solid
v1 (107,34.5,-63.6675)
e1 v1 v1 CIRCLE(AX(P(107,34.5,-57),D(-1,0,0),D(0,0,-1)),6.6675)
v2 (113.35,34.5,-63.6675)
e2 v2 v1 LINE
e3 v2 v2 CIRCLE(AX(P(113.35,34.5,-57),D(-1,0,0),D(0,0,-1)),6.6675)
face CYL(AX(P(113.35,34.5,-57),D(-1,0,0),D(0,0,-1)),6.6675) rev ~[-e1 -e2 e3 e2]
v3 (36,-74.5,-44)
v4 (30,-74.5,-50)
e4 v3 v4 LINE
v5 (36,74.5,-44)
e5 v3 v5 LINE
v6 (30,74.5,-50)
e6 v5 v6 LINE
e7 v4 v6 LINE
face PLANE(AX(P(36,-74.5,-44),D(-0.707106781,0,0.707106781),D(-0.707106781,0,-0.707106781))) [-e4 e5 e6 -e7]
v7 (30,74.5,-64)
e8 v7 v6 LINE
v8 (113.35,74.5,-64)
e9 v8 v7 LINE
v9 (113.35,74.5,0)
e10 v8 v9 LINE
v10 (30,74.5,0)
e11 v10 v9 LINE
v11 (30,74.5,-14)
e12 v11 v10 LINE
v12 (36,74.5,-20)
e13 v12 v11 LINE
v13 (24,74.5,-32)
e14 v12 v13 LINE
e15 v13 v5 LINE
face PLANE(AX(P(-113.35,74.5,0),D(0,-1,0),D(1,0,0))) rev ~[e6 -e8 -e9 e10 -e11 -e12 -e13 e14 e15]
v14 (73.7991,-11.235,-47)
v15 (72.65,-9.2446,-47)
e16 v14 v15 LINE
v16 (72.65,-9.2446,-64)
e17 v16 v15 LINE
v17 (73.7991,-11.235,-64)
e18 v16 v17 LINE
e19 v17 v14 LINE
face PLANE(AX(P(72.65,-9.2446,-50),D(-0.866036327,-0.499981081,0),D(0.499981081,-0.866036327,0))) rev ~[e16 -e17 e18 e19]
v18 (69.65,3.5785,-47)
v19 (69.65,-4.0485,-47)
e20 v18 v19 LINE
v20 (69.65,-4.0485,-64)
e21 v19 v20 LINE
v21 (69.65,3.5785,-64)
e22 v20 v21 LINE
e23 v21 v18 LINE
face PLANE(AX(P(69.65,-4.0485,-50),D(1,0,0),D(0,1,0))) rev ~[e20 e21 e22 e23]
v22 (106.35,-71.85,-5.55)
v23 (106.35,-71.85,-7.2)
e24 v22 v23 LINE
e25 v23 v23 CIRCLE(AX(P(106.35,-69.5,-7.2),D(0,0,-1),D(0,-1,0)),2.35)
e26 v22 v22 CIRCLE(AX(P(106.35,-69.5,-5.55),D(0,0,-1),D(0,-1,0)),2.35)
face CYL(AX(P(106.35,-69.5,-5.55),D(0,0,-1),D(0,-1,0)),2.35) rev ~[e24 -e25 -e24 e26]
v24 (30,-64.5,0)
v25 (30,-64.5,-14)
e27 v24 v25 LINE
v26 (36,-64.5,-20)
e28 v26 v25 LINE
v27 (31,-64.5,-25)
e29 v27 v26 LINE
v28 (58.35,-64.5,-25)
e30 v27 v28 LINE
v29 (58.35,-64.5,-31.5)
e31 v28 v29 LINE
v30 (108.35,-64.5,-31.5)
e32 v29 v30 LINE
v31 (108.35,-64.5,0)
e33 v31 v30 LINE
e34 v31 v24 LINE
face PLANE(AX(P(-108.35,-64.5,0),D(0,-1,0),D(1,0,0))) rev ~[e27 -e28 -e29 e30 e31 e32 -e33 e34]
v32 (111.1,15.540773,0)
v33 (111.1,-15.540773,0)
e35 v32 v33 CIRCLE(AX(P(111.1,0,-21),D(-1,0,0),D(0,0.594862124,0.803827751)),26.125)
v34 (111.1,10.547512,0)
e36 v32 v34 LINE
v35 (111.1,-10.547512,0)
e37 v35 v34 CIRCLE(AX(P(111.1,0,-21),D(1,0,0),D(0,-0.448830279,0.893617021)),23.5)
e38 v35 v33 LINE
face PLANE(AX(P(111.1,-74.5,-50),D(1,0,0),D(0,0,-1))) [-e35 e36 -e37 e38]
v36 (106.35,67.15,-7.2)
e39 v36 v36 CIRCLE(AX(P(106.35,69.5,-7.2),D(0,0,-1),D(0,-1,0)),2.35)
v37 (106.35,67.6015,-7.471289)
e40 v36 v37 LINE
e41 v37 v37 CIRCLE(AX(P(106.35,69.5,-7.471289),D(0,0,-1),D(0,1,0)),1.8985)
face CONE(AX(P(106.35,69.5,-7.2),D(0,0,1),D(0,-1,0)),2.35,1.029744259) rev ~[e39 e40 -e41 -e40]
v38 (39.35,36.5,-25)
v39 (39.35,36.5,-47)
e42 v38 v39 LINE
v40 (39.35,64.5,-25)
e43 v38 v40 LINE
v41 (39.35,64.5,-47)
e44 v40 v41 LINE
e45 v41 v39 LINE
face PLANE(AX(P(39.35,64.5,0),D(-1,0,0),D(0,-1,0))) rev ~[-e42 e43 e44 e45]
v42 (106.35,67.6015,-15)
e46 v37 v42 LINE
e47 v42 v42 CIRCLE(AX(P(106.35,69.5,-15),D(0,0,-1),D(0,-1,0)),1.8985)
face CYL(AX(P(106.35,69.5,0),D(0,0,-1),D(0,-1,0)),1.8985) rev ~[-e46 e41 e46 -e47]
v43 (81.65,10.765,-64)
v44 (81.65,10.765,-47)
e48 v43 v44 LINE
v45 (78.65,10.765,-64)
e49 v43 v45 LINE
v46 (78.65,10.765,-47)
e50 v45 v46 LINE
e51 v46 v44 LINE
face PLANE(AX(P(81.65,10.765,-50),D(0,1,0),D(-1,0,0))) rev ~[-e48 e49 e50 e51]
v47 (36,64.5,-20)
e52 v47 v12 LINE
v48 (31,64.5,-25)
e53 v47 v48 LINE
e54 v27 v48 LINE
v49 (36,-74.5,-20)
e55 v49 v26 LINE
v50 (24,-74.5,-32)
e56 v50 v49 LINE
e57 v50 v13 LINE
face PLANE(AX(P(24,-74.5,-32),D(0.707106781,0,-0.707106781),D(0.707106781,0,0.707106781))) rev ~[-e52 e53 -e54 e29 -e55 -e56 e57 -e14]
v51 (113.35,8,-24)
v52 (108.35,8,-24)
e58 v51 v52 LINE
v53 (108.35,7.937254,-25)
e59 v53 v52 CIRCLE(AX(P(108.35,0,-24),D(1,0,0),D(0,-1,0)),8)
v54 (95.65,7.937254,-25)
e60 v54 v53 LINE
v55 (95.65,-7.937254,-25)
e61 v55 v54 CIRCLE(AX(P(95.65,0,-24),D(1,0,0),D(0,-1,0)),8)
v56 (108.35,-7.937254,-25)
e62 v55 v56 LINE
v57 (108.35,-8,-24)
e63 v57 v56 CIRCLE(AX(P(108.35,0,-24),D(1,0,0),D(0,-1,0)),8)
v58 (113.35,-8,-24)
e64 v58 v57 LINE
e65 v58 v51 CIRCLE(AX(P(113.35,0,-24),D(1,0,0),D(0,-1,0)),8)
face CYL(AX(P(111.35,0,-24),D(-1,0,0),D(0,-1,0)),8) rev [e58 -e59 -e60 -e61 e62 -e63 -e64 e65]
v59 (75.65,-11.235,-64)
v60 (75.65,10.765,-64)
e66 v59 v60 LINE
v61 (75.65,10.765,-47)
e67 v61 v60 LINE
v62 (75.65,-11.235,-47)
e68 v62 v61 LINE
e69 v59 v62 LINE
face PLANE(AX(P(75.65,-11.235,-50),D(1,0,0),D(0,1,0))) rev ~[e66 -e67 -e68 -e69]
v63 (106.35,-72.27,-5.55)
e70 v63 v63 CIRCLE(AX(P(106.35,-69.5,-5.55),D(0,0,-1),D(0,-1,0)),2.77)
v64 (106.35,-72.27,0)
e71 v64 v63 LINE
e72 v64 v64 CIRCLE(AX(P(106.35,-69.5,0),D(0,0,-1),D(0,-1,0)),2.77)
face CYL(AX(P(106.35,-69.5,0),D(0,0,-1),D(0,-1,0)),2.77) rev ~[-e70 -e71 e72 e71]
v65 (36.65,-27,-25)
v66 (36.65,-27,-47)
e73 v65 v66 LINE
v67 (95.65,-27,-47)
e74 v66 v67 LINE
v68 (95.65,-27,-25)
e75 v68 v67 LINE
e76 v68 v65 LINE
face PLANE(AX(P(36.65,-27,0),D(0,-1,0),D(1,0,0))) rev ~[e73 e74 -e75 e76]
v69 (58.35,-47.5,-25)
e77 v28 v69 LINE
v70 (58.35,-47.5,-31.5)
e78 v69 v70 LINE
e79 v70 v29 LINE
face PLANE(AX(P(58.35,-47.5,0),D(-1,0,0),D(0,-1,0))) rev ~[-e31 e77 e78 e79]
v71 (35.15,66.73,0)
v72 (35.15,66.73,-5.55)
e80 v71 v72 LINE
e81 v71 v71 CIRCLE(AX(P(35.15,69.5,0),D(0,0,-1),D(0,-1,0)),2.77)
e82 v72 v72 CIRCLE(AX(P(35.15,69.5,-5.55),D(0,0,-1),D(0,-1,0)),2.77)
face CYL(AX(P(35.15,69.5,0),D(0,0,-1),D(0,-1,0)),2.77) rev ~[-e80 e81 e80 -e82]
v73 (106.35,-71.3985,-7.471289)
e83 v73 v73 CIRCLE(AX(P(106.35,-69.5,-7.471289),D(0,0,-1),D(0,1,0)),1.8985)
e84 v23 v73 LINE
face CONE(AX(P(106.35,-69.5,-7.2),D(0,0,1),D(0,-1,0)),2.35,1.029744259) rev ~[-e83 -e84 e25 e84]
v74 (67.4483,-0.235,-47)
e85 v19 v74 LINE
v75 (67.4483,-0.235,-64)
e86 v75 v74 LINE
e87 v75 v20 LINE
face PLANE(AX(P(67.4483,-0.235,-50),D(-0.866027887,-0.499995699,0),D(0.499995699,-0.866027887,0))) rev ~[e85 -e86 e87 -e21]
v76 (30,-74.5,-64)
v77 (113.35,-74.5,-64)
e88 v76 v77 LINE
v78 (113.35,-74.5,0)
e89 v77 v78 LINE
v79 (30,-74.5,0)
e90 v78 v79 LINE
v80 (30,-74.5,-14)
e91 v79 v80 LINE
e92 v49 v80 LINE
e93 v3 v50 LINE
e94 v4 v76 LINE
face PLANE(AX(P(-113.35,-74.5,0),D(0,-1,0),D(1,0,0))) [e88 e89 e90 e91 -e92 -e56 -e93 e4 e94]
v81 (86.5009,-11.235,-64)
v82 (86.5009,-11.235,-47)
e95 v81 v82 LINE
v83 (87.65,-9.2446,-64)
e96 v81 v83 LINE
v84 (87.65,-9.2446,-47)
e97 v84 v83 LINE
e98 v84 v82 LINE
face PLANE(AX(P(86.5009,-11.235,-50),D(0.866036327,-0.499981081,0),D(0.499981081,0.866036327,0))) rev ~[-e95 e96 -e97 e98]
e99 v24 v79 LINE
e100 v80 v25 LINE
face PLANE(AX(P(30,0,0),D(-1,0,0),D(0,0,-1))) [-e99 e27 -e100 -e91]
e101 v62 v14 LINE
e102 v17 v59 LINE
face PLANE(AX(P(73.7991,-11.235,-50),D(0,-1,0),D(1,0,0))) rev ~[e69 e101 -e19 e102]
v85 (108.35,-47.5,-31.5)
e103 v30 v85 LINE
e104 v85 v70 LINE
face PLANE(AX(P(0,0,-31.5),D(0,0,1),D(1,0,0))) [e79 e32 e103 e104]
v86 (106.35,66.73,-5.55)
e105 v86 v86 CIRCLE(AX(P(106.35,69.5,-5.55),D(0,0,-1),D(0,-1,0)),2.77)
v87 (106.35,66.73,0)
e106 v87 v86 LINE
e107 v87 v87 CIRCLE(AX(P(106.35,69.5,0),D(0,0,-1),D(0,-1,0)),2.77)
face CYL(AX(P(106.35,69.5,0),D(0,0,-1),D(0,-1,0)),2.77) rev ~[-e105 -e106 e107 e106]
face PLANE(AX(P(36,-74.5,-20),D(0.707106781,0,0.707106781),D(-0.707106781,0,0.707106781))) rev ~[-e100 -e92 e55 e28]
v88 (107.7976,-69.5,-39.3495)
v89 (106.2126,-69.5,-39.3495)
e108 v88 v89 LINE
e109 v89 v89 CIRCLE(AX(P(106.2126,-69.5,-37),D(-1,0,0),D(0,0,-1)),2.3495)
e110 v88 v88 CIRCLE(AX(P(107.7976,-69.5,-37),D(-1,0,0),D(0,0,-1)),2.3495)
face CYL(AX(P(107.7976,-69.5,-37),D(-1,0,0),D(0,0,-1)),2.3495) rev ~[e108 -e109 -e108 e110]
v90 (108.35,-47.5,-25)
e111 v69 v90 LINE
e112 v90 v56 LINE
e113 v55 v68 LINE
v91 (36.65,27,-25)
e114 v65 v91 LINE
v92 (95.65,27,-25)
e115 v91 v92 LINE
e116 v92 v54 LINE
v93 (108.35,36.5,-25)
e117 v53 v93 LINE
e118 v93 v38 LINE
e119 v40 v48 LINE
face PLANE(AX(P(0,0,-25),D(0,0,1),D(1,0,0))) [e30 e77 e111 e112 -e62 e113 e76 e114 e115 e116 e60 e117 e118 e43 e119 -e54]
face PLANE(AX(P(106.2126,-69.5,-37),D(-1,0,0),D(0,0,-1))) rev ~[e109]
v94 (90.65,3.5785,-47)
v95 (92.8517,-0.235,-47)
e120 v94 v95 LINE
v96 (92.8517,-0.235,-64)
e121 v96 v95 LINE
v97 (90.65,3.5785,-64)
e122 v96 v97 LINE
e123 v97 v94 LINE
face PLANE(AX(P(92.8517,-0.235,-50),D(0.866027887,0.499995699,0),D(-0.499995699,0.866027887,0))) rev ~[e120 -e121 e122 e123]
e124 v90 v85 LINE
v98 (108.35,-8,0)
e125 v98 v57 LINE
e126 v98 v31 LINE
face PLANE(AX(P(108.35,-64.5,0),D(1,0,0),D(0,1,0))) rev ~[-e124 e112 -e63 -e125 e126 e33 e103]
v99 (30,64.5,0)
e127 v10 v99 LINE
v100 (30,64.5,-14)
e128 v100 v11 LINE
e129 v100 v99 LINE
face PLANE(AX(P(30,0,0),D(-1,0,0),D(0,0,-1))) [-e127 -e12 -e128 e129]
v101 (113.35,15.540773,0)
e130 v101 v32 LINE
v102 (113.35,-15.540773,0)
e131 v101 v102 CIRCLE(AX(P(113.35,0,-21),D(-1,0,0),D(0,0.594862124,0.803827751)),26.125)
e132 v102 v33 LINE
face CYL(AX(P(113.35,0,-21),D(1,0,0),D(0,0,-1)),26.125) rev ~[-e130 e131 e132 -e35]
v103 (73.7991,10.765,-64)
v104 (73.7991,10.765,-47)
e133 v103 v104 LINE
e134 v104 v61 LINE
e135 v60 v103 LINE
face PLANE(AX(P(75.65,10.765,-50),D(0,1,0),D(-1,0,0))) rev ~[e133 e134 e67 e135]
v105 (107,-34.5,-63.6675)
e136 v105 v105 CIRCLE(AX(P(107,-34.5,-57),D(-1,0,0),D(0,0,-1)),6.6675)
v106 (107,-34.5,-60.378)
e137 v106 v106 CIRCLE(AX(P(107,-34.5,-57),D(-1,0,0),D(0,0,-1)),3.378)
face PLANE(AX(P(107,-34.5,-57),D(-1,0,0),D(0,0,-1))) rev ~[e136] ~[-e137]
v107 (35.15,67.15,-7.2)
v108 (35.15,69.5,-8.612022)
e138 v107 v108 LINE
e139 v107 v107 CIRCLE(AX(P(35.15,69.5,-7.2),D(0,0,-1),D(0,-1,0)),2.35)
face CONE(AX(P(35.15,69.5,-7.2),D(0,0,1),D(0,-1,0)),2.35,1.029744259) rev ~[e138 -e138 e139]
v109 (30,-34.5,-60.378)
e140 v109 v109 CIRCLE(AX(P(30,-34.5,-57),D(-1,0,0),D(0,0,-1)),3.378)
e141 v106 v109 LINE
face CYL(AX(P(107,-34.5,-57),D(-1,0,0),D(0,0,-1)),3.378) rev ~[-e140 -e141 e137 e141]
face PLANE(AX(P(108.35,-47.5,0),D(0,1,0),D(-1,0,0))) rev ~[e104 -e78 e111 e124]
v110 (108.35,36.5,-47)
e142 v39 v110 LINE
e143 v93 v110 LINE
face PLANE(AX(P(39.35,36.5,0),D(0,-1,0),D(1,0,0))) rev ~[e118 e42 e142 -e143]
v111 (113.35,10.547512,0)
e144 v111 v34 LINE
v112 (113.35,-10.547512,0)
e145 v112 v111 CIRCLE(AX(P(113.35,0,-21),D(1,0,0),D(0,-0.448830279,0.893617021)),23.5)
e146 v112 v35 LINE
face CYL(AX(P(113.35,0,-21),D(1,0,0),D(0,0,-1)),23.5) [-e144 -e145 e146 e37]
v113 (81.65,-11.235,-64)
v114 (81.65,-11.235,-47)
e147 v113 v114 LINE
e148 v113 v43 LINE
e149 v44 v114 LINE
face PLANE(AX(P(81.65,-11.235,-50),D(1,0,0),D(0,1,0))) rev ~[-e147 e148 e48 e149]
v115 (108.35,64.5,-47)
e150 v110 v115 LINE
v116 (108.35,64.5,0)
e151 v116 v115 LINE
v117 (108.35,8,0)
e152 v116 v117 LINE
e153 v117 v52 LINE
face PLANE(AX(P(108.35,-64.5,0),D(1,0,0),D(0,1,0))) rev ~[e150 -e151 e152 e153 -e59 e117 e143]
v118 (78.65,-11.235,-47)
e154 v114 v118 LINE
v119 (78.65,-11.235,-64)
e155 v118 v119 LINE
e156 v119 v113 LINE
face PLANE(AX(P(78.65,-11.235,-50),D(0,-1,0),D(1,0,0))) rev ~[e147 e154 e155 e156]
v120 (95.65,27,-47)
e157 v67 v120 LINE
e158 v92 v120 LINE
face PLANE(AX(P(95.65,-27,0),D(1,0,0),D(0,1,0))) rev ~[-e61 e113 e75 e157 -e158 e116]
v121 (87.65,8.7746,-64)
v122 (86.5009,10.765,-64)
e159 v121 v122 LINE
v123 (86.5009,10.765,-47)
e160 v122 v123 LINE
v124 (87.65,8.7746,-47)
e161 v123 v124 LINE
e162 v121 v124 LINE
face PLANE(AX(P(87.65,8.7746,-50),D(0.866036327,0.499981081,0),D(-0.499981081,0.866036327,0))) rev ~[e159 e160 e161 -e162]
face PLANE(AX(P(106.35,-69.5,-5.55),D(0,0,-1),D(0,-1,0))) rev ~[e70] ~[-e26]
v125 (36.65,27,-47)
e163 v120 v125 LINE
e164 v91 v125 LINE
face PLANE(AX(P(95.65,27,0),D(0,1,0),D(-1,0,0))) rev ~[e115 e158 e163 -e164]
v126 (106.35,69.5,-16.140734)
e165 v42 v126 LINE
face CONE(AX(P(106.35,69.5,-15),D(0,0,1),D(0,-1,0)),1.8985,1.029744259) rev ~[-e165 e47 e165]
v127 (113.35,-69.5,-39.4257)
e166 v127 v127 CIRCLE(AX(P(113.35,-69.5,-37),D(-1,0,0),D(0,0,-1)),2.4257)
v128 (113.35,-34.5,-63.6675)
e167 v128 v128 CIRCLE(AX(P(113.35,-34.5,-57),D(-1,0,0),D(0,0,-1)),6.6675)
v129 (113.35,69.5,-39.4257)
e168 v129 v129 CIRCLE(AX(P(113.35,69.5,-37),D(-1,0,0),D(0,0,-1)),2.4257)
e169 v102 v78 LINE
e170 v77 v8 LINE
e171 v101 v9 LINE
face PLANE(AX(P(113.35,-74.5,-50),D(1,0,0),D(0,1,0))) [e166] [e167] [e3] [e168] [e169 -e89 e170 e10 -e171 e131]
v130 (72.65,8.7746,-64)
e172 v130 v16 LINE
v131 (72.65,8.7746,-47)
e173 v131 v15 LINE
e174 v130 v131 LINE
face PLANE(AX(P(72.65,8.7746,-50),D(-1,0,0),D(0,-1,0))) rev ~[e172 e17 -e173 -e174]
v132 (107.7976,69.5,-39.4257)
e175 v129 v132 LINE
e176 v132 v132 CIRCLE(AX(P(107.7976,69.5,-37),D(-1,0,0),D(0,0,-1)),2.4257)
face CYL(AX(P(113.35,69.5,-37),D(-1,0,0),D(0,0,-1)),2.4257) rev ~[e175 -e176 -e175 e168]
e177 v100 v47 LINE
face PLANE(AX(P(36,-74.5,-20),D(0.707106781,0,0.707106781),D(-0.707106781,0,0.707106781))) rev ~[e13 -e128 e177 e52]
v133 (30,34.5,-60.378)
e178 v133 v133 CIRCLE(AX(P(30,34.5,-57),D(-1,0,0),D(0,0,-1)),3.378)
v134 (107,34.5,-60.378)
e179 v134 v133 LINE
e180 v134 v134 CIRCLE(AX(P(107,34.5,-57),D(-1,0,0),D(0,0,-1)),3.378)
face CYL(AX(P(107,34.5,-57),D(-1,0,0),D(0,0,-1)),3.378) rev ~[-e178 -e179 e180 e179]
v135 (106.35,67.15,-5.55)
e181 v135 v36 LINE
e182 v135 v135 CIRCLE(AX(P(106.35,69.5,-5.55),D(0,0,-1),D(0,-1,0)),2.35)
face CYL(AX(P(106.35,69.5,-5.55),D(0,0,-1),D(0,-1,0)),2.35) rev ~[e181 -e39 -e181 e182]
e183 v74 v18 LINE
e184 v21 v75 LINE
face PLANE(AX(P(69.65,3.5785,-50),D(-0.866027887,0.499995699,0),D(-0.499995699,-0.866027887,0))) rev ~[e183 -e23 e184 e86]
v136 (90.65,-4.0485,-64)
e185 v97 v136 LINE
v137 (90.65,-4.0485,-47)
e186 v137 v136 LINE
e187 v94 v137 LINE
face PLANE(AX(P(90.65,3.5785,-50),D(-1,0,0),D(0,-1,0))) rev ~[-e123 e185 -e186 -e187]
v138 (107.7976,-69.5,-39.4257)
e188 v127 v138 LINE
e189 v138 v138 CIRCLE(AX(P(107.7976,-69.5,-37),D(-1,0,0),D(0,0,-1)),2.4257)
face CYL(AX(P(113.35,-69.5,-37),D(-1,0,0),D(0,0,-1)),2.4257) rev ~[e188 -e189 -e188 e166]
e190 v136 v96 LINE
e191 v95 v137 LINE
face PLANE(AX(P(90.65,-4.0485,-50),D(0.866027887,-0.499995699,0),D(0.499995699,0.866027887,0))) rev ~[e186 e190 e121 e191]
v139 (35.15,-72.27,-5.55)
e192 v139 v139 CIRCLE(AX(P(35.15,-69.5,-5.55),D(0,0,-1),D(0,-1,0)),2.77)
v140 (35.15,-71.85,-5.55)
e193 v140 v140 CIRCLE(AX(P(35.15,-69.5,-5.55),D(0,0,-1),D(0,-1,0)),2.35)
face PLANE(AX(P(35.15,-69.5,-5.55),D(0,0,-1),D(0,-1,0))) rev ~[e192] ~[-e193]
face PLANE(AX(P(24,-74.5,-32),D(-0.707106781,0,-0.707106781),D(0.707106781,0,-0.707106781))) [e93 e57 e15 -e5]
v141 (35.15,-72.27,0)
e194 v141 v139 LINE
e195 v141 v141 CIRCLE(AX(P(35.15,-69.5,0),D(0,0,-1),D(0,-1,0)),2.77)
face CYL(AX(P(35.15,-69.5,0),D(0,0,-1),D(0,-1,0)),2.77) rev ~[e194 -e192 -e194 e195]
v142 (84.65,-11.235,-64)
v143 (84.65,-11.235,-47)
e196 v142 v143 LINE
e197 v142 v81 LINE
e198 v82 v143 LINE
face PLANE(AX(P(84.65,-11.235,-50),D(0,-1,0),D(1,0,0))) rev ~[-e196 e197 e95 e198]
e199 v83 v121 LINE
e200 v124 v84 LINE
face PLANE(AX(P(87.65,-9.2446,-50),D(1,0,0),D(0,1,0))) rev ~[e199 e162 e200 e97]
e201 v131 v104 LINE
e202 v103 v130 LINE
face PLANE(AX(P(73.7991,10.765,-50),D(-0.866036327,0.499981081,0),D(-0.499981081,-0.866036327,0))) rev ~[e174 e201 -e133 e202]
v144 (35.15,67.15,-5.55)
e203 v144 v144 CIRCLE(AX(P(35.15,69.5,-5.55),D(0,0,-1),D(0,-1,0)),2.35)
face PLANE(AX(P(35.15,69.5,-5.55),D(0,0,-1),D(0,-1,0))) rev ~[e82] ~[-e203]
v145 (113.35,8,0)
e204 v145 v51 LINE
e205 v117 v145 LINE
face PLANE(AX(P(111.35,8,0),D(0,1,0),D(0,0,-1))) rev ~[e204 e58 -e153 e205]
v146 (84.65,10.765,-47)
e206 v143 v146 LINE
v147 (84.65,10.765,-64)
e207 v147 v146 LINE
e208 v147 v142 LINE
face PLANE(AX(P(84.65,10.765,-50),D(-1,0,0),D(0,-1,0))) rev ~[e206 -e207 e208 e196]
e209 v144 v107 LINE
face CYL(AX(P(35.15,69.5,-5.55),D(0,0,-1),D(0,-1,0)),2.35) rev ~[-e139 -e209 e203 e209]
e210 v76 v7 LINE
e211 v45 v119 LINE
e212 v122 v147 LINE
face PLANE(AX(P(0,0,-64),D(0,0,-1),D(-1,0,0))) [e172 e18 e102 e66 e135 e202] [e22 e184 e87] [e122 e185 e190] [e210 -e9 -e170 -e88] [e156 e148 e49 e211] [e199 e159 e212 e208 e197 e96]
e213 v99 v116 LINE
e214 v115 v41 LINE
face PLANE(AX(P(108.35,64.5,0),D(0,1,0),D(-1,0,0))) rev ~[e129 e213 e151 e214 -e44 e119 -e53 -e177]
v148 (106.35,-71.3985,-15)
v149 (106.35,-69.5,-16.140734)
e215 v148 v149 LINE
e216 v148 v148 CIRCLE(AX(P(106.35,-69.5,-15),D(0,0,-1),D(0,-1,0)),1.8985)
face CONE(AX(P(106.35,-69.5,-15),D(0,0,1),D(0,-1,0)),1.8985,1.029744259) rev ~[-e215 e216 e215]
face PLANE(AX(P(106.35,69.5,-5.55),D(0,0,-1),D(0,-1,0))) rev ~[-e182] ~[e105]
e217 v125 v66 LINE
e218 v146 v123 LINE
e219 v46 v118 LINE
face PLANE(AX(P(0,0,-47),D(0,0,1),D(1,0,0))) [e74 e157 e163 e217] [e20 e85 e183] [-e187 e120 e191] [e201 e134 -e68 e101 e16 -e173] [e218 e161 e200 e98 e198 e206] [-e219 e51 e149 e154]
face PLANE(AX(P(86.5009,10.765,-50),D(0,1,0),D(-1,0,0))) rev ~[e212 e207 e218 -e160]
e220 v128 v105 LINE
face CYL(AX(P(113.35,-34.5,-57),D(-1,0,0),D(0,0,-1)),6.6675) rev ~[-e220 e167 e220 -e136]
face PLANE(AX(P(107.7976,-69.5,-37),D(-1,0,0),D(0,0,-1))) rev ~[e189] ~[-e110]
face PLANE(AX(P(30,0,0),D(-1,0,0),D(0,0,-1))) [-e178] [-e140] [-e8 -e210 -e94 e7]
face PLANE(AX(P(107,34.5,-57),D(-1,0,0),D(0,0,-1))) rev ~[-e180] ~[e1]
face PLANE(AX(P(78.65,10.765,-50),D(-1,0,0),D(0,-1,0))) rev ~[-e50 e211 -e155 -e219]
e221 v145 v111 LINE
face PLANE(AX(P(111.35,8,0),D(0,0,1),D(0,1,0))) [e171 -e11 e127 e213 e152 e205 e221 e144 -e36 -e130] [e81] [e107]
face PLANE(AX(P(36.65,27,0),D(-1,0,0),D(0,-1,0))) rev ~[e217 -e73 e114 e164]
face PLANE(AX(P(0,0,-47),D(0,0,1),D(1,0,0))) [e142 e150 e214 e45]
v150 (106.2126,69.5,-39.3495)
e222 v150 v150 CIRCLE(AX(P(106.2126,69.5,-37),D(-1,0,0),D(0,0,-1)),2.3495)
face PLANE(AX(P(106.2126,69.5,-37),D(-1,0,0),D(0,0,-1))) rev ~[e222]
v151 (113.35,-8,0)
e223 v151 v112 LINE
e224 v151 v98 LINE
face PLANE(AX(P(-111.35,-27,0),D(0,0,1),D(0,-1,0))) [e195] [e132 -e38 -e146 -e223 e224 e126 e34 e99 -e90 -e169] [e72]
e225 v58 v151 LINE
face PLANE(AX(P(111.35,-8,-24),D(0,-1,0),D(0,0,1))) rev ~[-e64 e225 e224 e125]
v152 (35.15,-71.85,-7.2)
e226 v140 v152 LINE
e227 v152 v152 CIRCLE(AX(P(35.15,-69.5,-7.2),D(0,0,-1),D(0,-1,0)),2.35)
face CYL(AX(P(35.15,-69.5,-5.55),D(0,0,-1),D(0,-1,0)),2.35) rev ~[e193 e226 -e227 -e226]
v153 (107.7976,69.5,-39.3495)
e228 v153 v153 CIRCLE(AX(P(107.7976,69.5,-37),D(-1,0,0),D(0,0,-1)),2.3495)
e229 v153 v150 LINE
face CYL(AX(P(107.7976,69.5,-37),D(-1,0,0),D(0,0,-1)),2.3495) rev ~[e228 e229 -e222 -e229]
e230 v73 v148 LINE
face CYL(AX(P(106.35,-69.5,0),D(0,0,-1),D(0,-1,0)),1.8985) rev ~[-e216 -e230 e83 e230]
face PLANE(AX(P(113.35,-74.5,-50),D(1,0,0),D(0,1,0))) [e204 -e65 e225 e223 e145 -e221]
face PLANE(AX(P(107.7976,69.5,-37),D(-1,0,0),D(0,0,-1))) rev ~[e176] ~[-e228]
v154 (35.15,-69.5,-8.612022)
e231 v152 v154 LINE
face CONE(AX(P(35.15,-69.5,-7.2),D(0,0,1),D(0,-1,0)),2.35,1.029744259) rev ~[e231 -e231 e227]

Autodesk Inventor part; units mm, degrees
ref_plane "XZ Plane" through (0, 0, 0) normal (0, 1, 0) x (-1, 0, 0)
sketch "Sketch1" plane through (0, 0, 0) normal (0, 0, 1) x (1, 0, 0)
  line L0 (-111.35, -74.5) -> (111.35, -74.5)
  line L1 (111.35, -74.5) -> (111.35, 74.5)
  line L2 (111.35, 74.5) -> (-111.35, 74.5)
  line L3 (-111.35, 74.5) -> (-111.35, -74.5)
  line L4 (-111.35, -74.5) -> (111.35, 74.5) construction
  line L5 (111.35, -74.5) -> (-111.35, 74.5) construction
  point P0 (0, 0)
  dimension "d0" = 222.7
  dimension "d1" = 149
extrude "MainInnerBodyExtrusion" add sketch "Sketch1" against normal blind 50
sketch "Sketch3" plane through (0, 0, 0) normal (0, 0, 1) x (1, 0, 0)
  line L0 (36.65, -27) -> (95.65, -27)
  line L1 (95.65, -27) -> (95.65, 27)
  line L2 (95.65, 27) -> (36.65, 27)
  line L3 (36.65, 27) -> (36.65, -27)
  line L4 (36.65, -27) -> (95.65, 27) construction
  line L5 (95.65, -27) -> (36.65, 27) construction
  line L6 (111.35, -74.5) -> (111.35, 74.5) projected
  line L7 (0, 0) -> (111.35, 0) construction
  line L8 (-111.35, -74.5) -> (-111.35, 74.5) construction
  line L9 (-111.35, 74.5) -> (-111.35, -74.5) projected
  point P0 (66.15, 0)
  point P1 (66.15, 0)
  dimension "d5" = 15.7
  dimension "d6" = 54
  dimension "d7" = 59
extrude "HoleForCamerabase" cut sketch "Sketch3" against normal blind 47
sketch "Sketch4" plane through (0, 0, 0) normal (0, 0, 1) x (1, 0, 0)
  line L0 (0, 0) -> (-111.35, 0) construction
  line L1 (-111.35, -74.5) -> (-111.35, 74.5) construction
  line L2 (-108.35, -31) -> (-92.35, -31)
  line L3 (-92.35, -31) -> (-92.35, 31)
  line L4 (-92.35, 31) -> (-108.35, 31)
  line L5 (-108.35, 31) -> (-108.35, -31)
  line L6 (-108.35, -31) -> (-92.35, 31) construction
  line L7 (-92.35, -31) -> (-108.35, 31) construction
  point P0 (-100.35, 0)
  dimension "d13" = 16
  dimension "d14" = 62
  dimension "d15" = 3
extrude "HoleForFan" cut sketch "Sketch4" against normal blind 47
sketch "Sketch6" plane through (0, 0, 0) normal (0, 0, 1) x (1, 0, 0)
  line L0 (-111.35, -74.5) -> (-111.35, 74.5) construction
  line L1 (-111.35, 0) -> (111.35, 0) construction
  line L2 (111.35, 74.5) -> (111.35, -74.5) construction
  line L3 (-11.35, -64.5) -> (20.65, -64.5)
  line L4 (20.65, -64.5) -> (20.65, 64.5)
  line L5 (20.65, 64.5) -> (-11.35, 64.5)
  line L6 (-11.35, 64.5) -> (-11.35, -64.5)
  line L7 (-11.35, -64.5) -> (20.65, 64.5) construction
  line L8 (20.65, -64.5) -> (-11.35, 64.5) construction
  line L9 (36.65, -27) -> (36.65, 27) projected
  point P0 (0, 0)
  point P1 (4.65, 0)
  dimension "d20" = 32
  dimension "d21" = 129
  dimension "d88" = 16
extrude "HoleForPi" cut sketch "Sketch6" against normal blind 47
sketch "Sketch7" plane through (0, 0, 0) normal (0, 0, 1) x (1, 0, 0)
  line L0 (0, 0) -> (-111.35, 0) construction
  line L1 (-111.35, 74.5) -> (-111.35, -74.5) construction
  line L2 (-76.35, -59) -> (-27.35, -59)
  line L3 (-27.35, -59) -> (-27.35, 59)
  line L4 (-27.35, 59) -> (-76.35, 59)
  line L5 (-76.35, 59) -> (-76.35, -59)
  line L6 (-76.35, -59) -> (-27.35, 59) construction
  line L7 (-27.35, -59) -> (-76.35, 59) construction
  line L8 (-11.35, -64.5) -> (-11.35, 64.5) projected
  line L9 (-92.35, 31) -> (-92.35, -31) construction
  point P0 (-51.85, 0)
  dimension "d25" = 16
  dimension "d26" = 49
  dimension "d27" = 118
extrude "HoleForPoeAdapter" cut sketch "Sketch7" against normal blind 47
sketch "Sketch10" plane through (0, 0, 0) normal (0, 0, 1) x (1, 0, 0)
  line L0 (39.35, 36.5) -> (108.35, 36.5)
  line L1 (108.35, 36.5) -> (108.35, 64.5)
  line L2 (108.35, 64.5) -> (39.35, 64.5)
  line L3 (39.35, 64.5) -> (39.35, 36.5)
  line L4 (39.35, 36.5) -> (108.35, 64.5) construction
  line L5 (108.35, 36.5) -> (39.35, 64.5) construction
  line L6 (111.35, 74.5) -> (-111.35, 74.5) projected
  line L7 (111.35, -74.5) -> (111.35, 74.5) projected
  point P0 (0, 0)
  point P1 (73.85, 50.5)
  point P2 (94.85, 8.5)
  point P3 (108.35, 50.5)
  dimension "d36" = 69
  dimension "d37" = 28
  dimension "d85" = 3
extrude "HoleForThermister" cut sketch "Sketch10" against normal blind 47
sketch "Sketch11" plane through (0, 0, 0) normal (0, 0, 1) x (1, 0, 0)
  line L0 (58.35, -64.5) -> (108.35, -64.5)
  line L1 (108.35, -64.5) -> (108.35, -47.5)
  line L2 (108.35, -47.5) -> (58.35, -47.5)
  line L3 (58.35, -47.5) -> (58.35, -64.5)
  line L4 (58.35, -64.5) -> (108.35, -47.5) construction
  line L5 (108.35, -64.5) -> (58.35, -47.5) construction
  line L6 (111.35, -74.5) -> (111.35, 74.5) projected
  line L7 (-111.35, -74.5) -> (111.35, -74.5) projected
  line L8 (95.65, -27) -> (36.65, -27) projected
  line L9 (20.65, 64.5) -> (20.65, -64.5) projected
  point P0 (0, 0)
  point P1 (83.35, -56)
  point P2 (94.85, -8.5)
  point P3 (83.35, -47.5)
  point P4 (58.35, -56)
  point P5 (111.35, 74.5)
  dimension "d42" = 50
  dimension "d43" = 17
  dimension "d86" = 3
  dimension "d87" = 10
extrude "HoleForSensor" cut sketch "Sketch11" against normal blind 31.5
sketch "Sketch15" plane through (-111.35, -74.5, 0) normal (-1, 0, 0) x (0, 0, 1)
  line L0 (0, 149) -> (0, 0) projected
  line L1 (0, 149) -> (-50, 149) projected
  line L2 (-50, 0) -> (-50, 149) projected
  line L3 (0, 0) -> (-50, 0) projected
  line L4 (0, 0) -> (0, 149) projected
  line L5 (0, 101.5) -> (0, 47.5) projected
  line L6 (0, 74.5) -> (-30, 74.5) construction
  line L7 (0, 76.5) -> (-29.9333, 76.5)
  line L8 (0, 84.5) -> (-28.2843, 84.5)
  line L9 (0, 80.5) -> (-29.3939, 80.5)
  line L10 (0, 76.5) -> (0, 74.5)
  line L11 (0, 88.5) -> (-26.533, 88.5)
  line L12 (0, 92.5) -> (-24, 92.5)
  line L13 (-20.5913, 97.5) -> (0, 97.5)
  line L14 (-14.9666, 101.5) -> (0, 101.5)
  line L15 (0, 84.5) -> (0, 80.5)
  line L16 (0, 101.5) -> (0, 97.5)
  line L17 (0, 92.5) -> (0, 88.5)
  line L18 (0, 72.5) -> (-29.9333, 72.5)
  line L19 (0, 64.5) -> (-28.2843, 64.5)
  line L20 (0, 68.5) -> (-29.3939, 68.5)
  line L21 (0, 72.5) -> (0, 74.5)
  line L22 (0, 60.5) -> (-26.533, 60.5)
  line L23 (0, 56.5) -> (-24, 56.5)
  line L24 (-20.5913, 51.5) -> (0, 51.5)
  line L25 (-14.9666, 47.5) -> (0, 47.5)
  line L26 (0, 64.5) -> (0, 68.5)
  line L27 (0, 56.5) -> (0, 60.5)
  line L28 (0, 47.5) -> (0, 51.5)
  line L29 (0, 72.5) -> (0, 76.5)
  line L30 (0, 80.5) -> (0, 84.5)
  line L31 (0, 88.5) -> (0, 92.5)
  line L32 (0, 97.5) -> (0, 149)
  arc A0 (-28.2843, 84.5) -> (-29.3939, 80.5) centre (0, 74.5) ccw
  arc A1 (-14.9666, 101.5) -> (-20.5913, 97.5) centre (0, 74.5) ccw
  arc A2 (-24, 92.5) -> (-26.533, 88.5) centre (0, 74.5) ccw
  arc A3 (-29.9333, 76.5) -> (-29.9333, 72.5) centre (0, 74.5) ccw
  arc A4 (-29.3939, 68.5) -> (-28.2843, 64.5) centre (0, 74.5) ccw
  arc A5 (-26.533, 60.5) -> (-24, 56.5) centre (0, 74.5) ccw
  arc A6 (-20.5913, 51.5) -> (-14.9666, 47.5) centre (0, 74.5) ccw
  point P0 (0, 82)
  point P1 (0, 67.0167)
  point P2 (0, 4.25)
  point P3 (-10.2956, 97.5)
  point P4 (0, 47.5)
  point P5 (0, 51.5)
  point P6 (0, 56.5)
  point P7 (0, 60.5)
  point P8 (0, 64.5)
  point P9 (0, 68.5)
  point P10 (0, 72.5)
  point P11 (0, 80.5)
  point P12 (0, 84.5)
  point P13 (0, 88.5)
  point P14 (0, 92.5)
  point P15 (0, 97.5)
  point P16 (0, 101.5)
  dimension "d69" = 2
  dimension "d71" = 4
  dimension "d72" = 4
  dimension "d73" = 4
  dimension "d75" = 4
  dimension "d142" = 30
extrude "SlotsForRearFan" cut sketch "Sketch15" against normal up to surface (3 mm away) contours L0 L13 A1 L14 | L0 L11 A2 L12 | L25 A6 L24 L0 | L0 L9 A0 L8 | L23 A5 L22 L0 | L0 L18 A3 L7 | L19 A4 L20 L0
sketch "Sketch16" plane through (0, 0, -47) normal (0, 0, 1) x (1, 0, 0)
  line L0 (95.65, 27) -> (95.65, -27) projected
  line L1 (80.15, 10.765) -> (80.15, -11.235) construction
  line L2 (78.65, 10.765) -> (78.65, -11.235)
  line L3 (75.65, -11.235) -> (75.65, 10.765)
  line L4 (72.65, 8.7746) -> (72.65, -9.2446)
  line L5 (69.65, 3.5785) -> (69.65, -4.0485)
  line L6 (81.65, 10.765) -> (81.65, -11.235)
  line L7 (84.65, -11.235) -> (84.65, 10.765)
  line L8 (87.65, 8.7746) -> (87.65, -9.2446)
  line L9 (90.65, 3.5785) -> (90.65, -4.0485)
  line L10 (73.7991, 10.765) -> (75.65, 10.765)
  line L11 (75.65, -11.235) -> (73.7991, -11.235)
  line L12 (73.7991, -11.235) -> (72.65, -9.2446)
  line L13 (69.65, -4.0485) -> (67.4483, -0.235)
  line L14 (67.4483, -0.235) -> (69.65, 3.5785)
  line L15 (72.65, 8.7746) -> (73.7991, 10.765)
  line L16 (78.65, 10.765) -> (81.65, 10.765)
  line L17 (84.65, 10.765) -> (86.5009, 10.765)
  line L18 (86.5009, -11.235) -> (84.65, -11.235)
  line L19 (81.65, -11.235) -> (78.65, -11.235)
  line L20 (92.8517, -0.235) -> (90.65, -4.0485)
  line L21 (87.65, -9.2446) -> (86.5009, -11.235)
  line L22 (86.5009, 10.765) -> (87.65, 8.7746)
  line L23 (90.65, 3.5785) -> (92.8517, -0.235)
  point P0 (0, 0)
  point P1 (80.15, -0.235)
  point P2 (69.65, -0.235)
  dimension "d78" = 15.5
  dimension "d89" = 1.5
  dimension "d90" = 3
  dimension "d91" = 3
  dimension "d92" = 3
extrude "VentForCamera" cut sketch "Sketch16" against normal through all
sketch "Sketch18" plane through (111.35, -74.5, 0) normal (1, 0, 0) x (0, 0, -1)
  line L0 (0, 74.5) -> (29.6767, 74.5) construction
  arc A0 (24, 66.5) -> (24, 82.5) centre (24, 74.5) ccw
  line L1 (0, 0) -> (0, 149) projected
  line L2 (24, 82.5) -> (0, 82.5)
  line L3 (24, 66.5) -> (0, 66.5)
  line L4 (0, 82.5) -> (0, 66.5)
  point P0 (0, 74.5)
  dimension "d97" = 16
  dimension "d137" = 24
extrude "HoleForLens" cut sketch "Sketch18" against normal up to surface (15.7 mm away)
sketch "Sketch23" plane through (0, 0, 0) normal (0, 0, 1) x (1, 0, 0)
  line L0 (-106.35, -69.5) -> (106.35, -69.5) construction
  line L1 (106.35, -69.5) -> (106.35, 69.5) construction
  line L2 (106.35, 69.5) -> (-106.35, 69.5) construction
  line L3 (-106.35, 69.5) -> (-106.35, -69.5) construction
  line L4 (-106.35, -69.5) -> (106.35, 69.5) construction
  line L5 (106.35, -69.5) -> (-106.35, 69.5) construction
  line L6 (111.35, -74.5) -> (111.35, -8) projected
  line L7 (111.35, 74.5) -> (-111.35, 74.5) projected
  line L8 (-111.35, -27) -> (-111.35, -74.5) projected
  line L9 (-111.35, 74.5) -> (-111.35, 27) projected
  line L10 (111.35, 8) -> (111.35, 74.5) projected
  point P0 (0, 0)
  point P1 (35.15, -69.5)
  point P2 (-35.15, -69.5)
  point P3 (-35.15, 69.5)
  point P4 (35.15, 69.5)
  dimension "d106" = 5
  dimension "d108" = 5
  dimension "d222" = 76.2
  dimension "d223" = 76.2
  dimension "d224" = 76.2
  dimension "d225" = 76.2
hole "Hole for 6-32 Insert" at (-106.35, 69.5, 0) at (106.35, 69.5, 0) at (106.35, -69.5, 0) at (-106.35, -69.5, 0) at (-35.15, -69.5, 0) at (35.15, -69.5, 0) at (-35.15, 69.5, 0) at (35.15, 69.5, 0) direction (0, 0, -1) diameter 4.7 depth 7.2 tip angle 118 counterbore diameter 5.54 counterbore depth 5.55
hole "Screw hole for 6-32 screw" at (-106.35, -69.5, 0) at (106.35, -69.5, 0) at (106.35, 69.5, 0) at (-106.35, 69.5, 0) direction (0, 0, -1) diameter 3.797 depth 15 tip angle 118 clearance for "Hex Machine Screw" size "#6" standard "Ansi Unified Screw Threads"
sketch "Sketch24" plane through (-111.35, -74.5, 0) normal (0, -1, 0) x (1, 0, 0)
  line L0 (0, -50) -> (222.7, -50) construction
  line L1 (222.7, 0) -> (207, 0) construction
  line L2 (0, 0) -> (0, -50) projected
  line L3 (111.3501, -25) -> (0, -25) construction
  line L4 (111.3501, -25) -> (222.7, -24.84) construction
  line L5 (222.7, 0) -> (222.7, -50) construction
  point P0 (111.35, 0)
  dimension "d226" = 25
  dimension "d227" = 111.3501
hole "Side hole for 1-4 20 insert" at (0.0001, -74.5, -25) direction (0, 1, 0) diameter 7.666 depth 9.53 tip angle 118 counterbore diameter 8.406 counterbore depth 7.41 clearance for "Hex Machine Screw" size "1/4" standard "Ansi Unified Screw Threads"
mirror "Mirror for side insert" about plane through (0, 0, 0) normal (0, 1, 0) of "Side hole for 1-4 20 insert"
sketch "Sketch25" plane through (0, 0, 0) normal (0, 0, 1) x (1, 0, 0)
  line L0 (111.35, 74.5) -> (-111.35, 74.5) projected
  line L1 (-111.35, 74.5) -> (-111.35, 27) projected
  line L2 (-111.35, -74.5) -> (111.35, -74.5) projected
  line L3 (81.65, -11.235) -> (78.65, -11.235) projected
  line L4 (78.65, -11.235) -> (78.65, 10.765) projected
  line L5 (78.65, 10.765) -> (81.65, 10.765) projected
  line L6 (81.65, 10.765) -> (81.65, -11.235) projected
  line L7 (73.7991, 10.765) -> (75.65, 10.765) projected
  line L8 (75.65, 10.765) -> (75.65, -11.235) projected
  line L9 (75.65, -11.235) -> (73.7991, -11.235) projected
  line L10 (73.7991, -11.235) -> (72.65, -9.2446) projected
  line L11 (72.65, -9.2446) -> (72.65, 8.7746) projected
  line L12 (72.65, 8.7746) -> (73.7991, 10.765) projected
  line L13 (87.65, 8.7746) -> (87.65, -9.2446) projected
  line L14 (87.65, -9.2446) -> (86.5009, -11.235) projected
  line L15 (86.5009, -11.235) -> (84.65, -11.235) projected
  line L16 (84.65, -11.235) -> (84.65, 10.765) projected
  line L17 (84.65, 10.765) -> (86.5009, 10.765) projected
  line L18 (86.5009, 10.765) -> (87.65, 8.7746) projected
  line L19 (69.65, 3.5785) -> (69.65, -4.0485) projected
  line L20 (69.65, -4.0485) -> (67.4483, -0.235) projected
  line L21 (67.4483, -0.235) -> (69.65, 3.5785) projected
  line L22 (92.8517, -0.235) -> (90.65, -4.0485) projected
  line L23 (90.65, -4.0485) -> (90.65, 3.5785) projected
  line L24 (90.65, 3.5785) -> (92.8517, -0.235) projected
  line L25 (95.65, 27) -> (95.65, -27) projected
  line L26 (36.65, 27) -> (95.65, 27) projected
  line L27 (36.65, -27) -> (36.65, 27) projected
  line L28 (95.65, -27) -> (36.65, -27) projected
  line L29 (111.35, -74.5) -> (111.35, -8) projected
  line L30 (111.35, 8) -> (111.35, 74.5) projected
  line L31 (-108.35, -64.5) -> (108.35, -64.5)
  line L32 (108.35, -64.5) -> (108.35, 64.5)
  line L33 (108.35, 64.5) -> (-108.35, 64.5)
  line L34 (-108.35, 64.5) -> (-108.35, -64.5)
  line L35 (-108.35, -64.5) -> (108.35, 64.5) construction
  line L36 (108.35, -64.5) -> (-108.35, 64.5) construction
  line L37 (-27.35, 59) -> (-27.35, -59) projected
  point P0 (0, 0)
  dimension "d138" = 10
  dimension "d139" = 3
extrude "Extrusion18" cut sketch "Sketch25" against normal blind 25 contours L34 L33 L32 L31
sketch "Sketch26" plane through (-111.35, -74.5, -50) normal (-1, 0, 0) x (0, 0, 1)
  arc A0 (50, 124) -> (50, 134) centre (50, 129) ccw
  circle A1 centre (50, 129) radius 5
  point P0 (50, 74.5)
  point P1 (50, 124)
extrude "HoleForPowerWire" cut sketch "Sketch26" against normal up to surface (3 mm away)
sketch "Sketch37" plane through (-111.35, -74.5, -50) normal (-1, 0, 0) x (0, 0, 1)
  arc A0 (50, 134) -> (50, 124) centre (50, 129) ccw projected
  line L0 (50, 149) -> (50, 134) projected
  line L1 (50, 149) -> (0, 149) projected
  line L2 (0, 0) -> (0, 149) projected
  line L3 (50, 0) -> (0, 0) projected
  line L4 (50, 47.5) -> (50, 0) projected
  line L5 (50, 47.5) -> (35.0334, 47.5) projected
  arc A1 (29.4087, 51.5) -> (35.0334, 47.5) centre (50, 74.5) ccw projected
  line L6 (29.4087, 51.5) -> (50, 51.5) projected
  line L7 (50, 56.5) -> (50, 51.5) projected
  line L8 (50, 56.5) -> (26, 56.5) projected
  arc A2 (23.467, 60.5) -> (26, 56.5) centre (50, 74.5) ccw projected
  line L9 (23.467, 60.5) -> (50, 60.5) projected
  line L10 (50, 64.5) -> (50, 60.5) projected
  line L11 (50, 64.5) -> (21.7157, 64.5) projected
  arc A3 (20.6061, 68.5) -> (21.7157, 64.5) centre (50, 74.5) ccw projected
  line L12 (20.6061, 68.5) -> (50, 68.5) projected
  line L13 (50, 72.5) -> (50, 68.5) projected
  line L14 (50, 72.5) -> (20.0667, 72.5) projected
  arc A4 (20.0667, 76.5) -> (20.0667, 72.5) centre (50, 74.5) ccw projected
  line L15 (20.0667, 76.5) -> (50, 76.5) projected
  line L16 (50, 80.5) -> (50, 76.5) projected
  line L17 (50, 80.5) -> (20.6061, 80.5) projected
  arc A5 (21.7157, 84.5) -> (20.6061, 80.5) centre (50, 74.5) ccw projected
  line L18 (21.7157, 84.5) -> (50, 84.5) projected
  line L19 (50, 88.5) -> (50, 84.5) projected
  line L20 (50, 88.5) -> (23.467, 88.5) projected
  arc A6 (26, 92.5) -> (23.467, 88.5) centre (50, 74.5) ccw projected
  line L21 (26, 92.5) -> (50, 92.5) projected
  line L22 (50, 97.5) -> (50, 92.5) projected
  line L23 (50, 97.5) -> (29.4087, 97.5) projected
  arc A7 (35.0334, 101.5) -> (29.4087, 97.5) centre (50, 74.5) ccw projected
  line L24 (35.0334, 101.5) -> (50, 101.5) projected
  line L25 (50, 124) -> (50, 101.5) projected
  line L26 (0, 149) -> (50, 149)
  line L27 (50, 149) -> (50, 0)
  line L28 (50, 0) -> (0, 0)
  line L29 (0, 0) -> (0, 149)
extrude "Extrusion22" add sketch "Sketch37" along normal blind 2 contours A0 L25 L24 A7 L23 L22 L21 A6 L20 L19 L18 A5 L17 L16 L15 A4 L14 L13 L12 A3 L11 L10 L9 A2 L8 L7 L6 A1 L5 L4 L3 L2 L1 L0
sketch "Sketch38" plane through (111.35, -74.5, -50) normal (1, 0, 0) x (0, 0, -1)
  line L0 (-50, 82.5) -> (-50, 149) projected
  line L1 (-50, 0) -> (0, 0) projected
  line L2 (0, 149) -> (0, 0) projected
  line L3 (-50, 149) -> (0, 149) projected
  line L4 (-50, 0) -> (-50, 66.5) projected
  arc A0 (-50, 65.1192) -> (-50, 83.8808) centre (-29, 74.5) ccw projected
  line L5 (-26, 66.5) -> (-50, 66.5) projected
  arc A1 (-26, 66.5) -> (-26, 82.5) centre (-26, 74.5) ccw projected
  line L6 (-50, 82.5) -> (-26, 82.5) projected
  line L7 (-26, 66.5) -> (-50, 66.5) projected
  line L8 (-50, 82.5) -> (-26, 82.5) projected
  arc A2 (-26, 66.5) -> (-26, 82.5) centre (-26, 74.5) ccw projected
  point P0 (-50, 74.5)
extrude "Extrusion23" add sketch "Sketch38" along normal blind 2
sketch "Sketch39" plane through (0, 0, -50) normal (0, 0, -1) x (-1, 0, 0)
  line L0 (-78.65, -11.235) -> (-81.65, -11.235) projected
  line L1 (-81.65, -11.235) -> (-81.65, 10.765) projected
  line L2 (-81.65, 10.765) -> (-78.65, 10.765) projected
  line L3 (-78.65, 10.765) -> (-78.65, -11.235) projected
  line L4 (-75.65, 10.765) -> (-73.7991, 10.765) projected
  line L5 (-73.7991, 10.765) -> (-72.65, 8.7746) projected
  line L6 (-72.65, 8.7746) -> (-72.65, -9.2446) projected
  line L7 (-72.65, -9.2446) -> (-73.7991, -11.235) projected
  line L8 (-73.7991, -11.235) -> (-75.65, -11.235) projected
  line L9 (-75.65, -11.235) -> (-75.65, 10.765) projected
  line L10 (-87.65, -9.2446) -> (-87.65, 8.7746) projected
  line L11 (-87.65, 8.7746) -> (-86.5009, 10.765) projected
  line L12 (-86.5009, 10.765) -> (-84.65, 10.765) projected
  line L13 (-84.65, 10.765) -> (-84.65, -11.235) projected
  line L14 (-84.65, -11.235) -> (-86.5009, -11.235) projected
  line L15 (-86.5009, -11.235) -> (-87.65, -9.2446) projected
  line L16 (-69.65, -4.0485) -> (-69.65, 3.5785) projected
  line L17 (-69.65, 3.5785) -> (-67.4483, -0.235) projected
  line L18 (-67.4483, -0.235) -> (-69.65, -4.0485) projected
  line L19 (-90.65, -4.0485) -> (-92.8517, -0.235) projected
  line L20 (-92.8517, -0.235) -> (-90.65, 3.5785) projected
  line L21 (-90.65, 3.5785) -> (-90.65, -4.0485) projected
  line L22 (113.35, -74.5) -> (-113.35, -74.5) projected
  line L23 (113.35, 74.5) -> (113.35, -74.5) projected
  line L24 (-113.35, 74.5) -> (113.35, 74.5) projected
  line L25 (-113.35, -74.5) -> (-113.35, 74.5) projected
  line L26 (113.35, -74.5) -> (-113.35, -74.5) projected
  line L27 (-113.35, 74.5) -> (113.35, 74.5)
  line L28 (113.35, 74.5) -> (113.35, -74.5)
  line L29 (113.35, -74.5) -> (-113.35, -74.5)
  line L30 (-113.35, -74.5) -> (-113.35, 74.5)
  point P0 (0, 0)
extrude "ExtrusionForBottom" add sketch "Sketch39" along normal blind 14
sketch "Sketch40" plane through (113.35, -74.5, -50) normal (1, 0, 0) x (0, 0, -1)
  line L0 (-50, 0) -> (14, 0) construction
  line L1 (7, 0) -> (7, 149) construction
  line L2 (-50, 149) -> (14, 149) construction
  line L3 (14, 149) -> (14, 0) construction
  point P0 (-50, 74.5)
  point P1 (7, 40)
  point P2 (7, 109)
  dimension "d234" = 7
  dimension "d235" = 40
  dimension "d236" = 40
hole "1-4 holesToBoltFixture" at (113.35, -34.5, -57) at (113.35, 34.5, -57) direction (-1, 0, 0) diameter 6.756 end through all counterbore diameter 13.335 counterbore depth 6.35 clearance for "Hex Machine Screw" size "1/4" standard "Ansi Unified Screw Threads"
ref_plane "Work Plane1" through (30, 0, 0) normal (1, 0, 0) x (0, 1, 0)
ref_plane "Work Plane2" through (-20, 0, 0) normal (1, 0, 0) x (0, 1, 0)
mirror "Mirror4" about plane through (0, 0, 0) normal (1, 0, 0) of "1-4 holesToBoltFixture"
sketch "Sketch43" plane through (113.35, -74.5, -50) normal (1, 0, 0) x (0, 0, -1)
  circle A0 centre (7, 40) radius 6.6675 projected
  circle A1 centre (7, 109) radius 6.6675 projected
  line L0 (-50, 66.5) -> (-50, 0) projected
  line L1 (-50, 0) -> (14, 0) projected
  line L2 (14, 149) -> (14, 0) projected
  line L3 (-50, 149) -> (14, 149) projected
  line L4 (-50, 149) -> (-50, 82.5) projected
  line L5 (-50, 82.5) -> (-26, 82.5) projected
  arc A2 (-26, 66.5) -> (-26, 82.5) centre (-26, 74.5) ccw projected
  line L6 (-26, 66.5) -> (-50, 66.5) projected
  circle A3 centre (-29, 74.5) radius 26.125
  circle A4 centre (-29, 74.5) radius 23.5
  point P0 (-50, 74.5)
  point P1 (-50, 85.0475)
  point P2 (-50, 63.9525)
  point P3 (-50, 58.9592)
  point P4 (-50, 90.0408)
  dimension "d255" = 21
  dimension "d256" = 52.25
  dimension "d257" = 47
extrude "CutOutForFilter" cut sketch "Sketch43" against normal blind 2.25 contours A4 L4 A3 L0 picked at (-35.0652, 51.0112)
sketch "Sketch47" plane through (113.35, -74.5, -50) normal (1, 0, 0) x (0, 0, -1)
  arc A0 (-50, 58.9592) -> (-50, 90.0408) centre (-29, 74.5) ccw projected
  line L0 (-50, 58.9592) -> (-50, 0) projected
  line L1 (-50, 0) -> (14, 0) projected
  line L2 (14, 149) -> (14, 0) projected
  line L3 (-50, 149) -> (14, 149) projected
  line L4 (-50, 149) -> (-50, 90.0408) projected
  circle A1 centre (7, 40) radius 6.6675 projected
  circle A2 centre (7, 109) radius 6.6675 projected
  line L5 (-13, 149) -> (-13, 0) construction
  line L6 (-50, 0) -> (14, 0) construction
  point P0 (-50, 74.5)
  point P1 (-13, 144)
  point P2 (-13, 5)
  dimension "d293" = 27
  dimension "d294" = 5
  dimension "d295" = 5
hole "Hole13" at (113.35, 69.5, -37) at (113.35, -69.5, -37) direction (-1, 0, 0) diameter 4.699 depth 7.1374 counterbore diameter 4.8514 counterbore depth 5.5524
sketch "Sketch46" plane through (-113.35, -74.5, 0) normal (0, -1, 0) x (1, 0, 0)
  circle A0 centre (113.3501, -25) radius 4.203 projected
  line L0 (0, 0) -> (226.7, 0) projected
  line L1 (0, 0) -> (0, -64) projected
  line L2 (226.7, -64) -> (0, -64) projected
  line L3 (226.7, 0) -> (226.7, -64) projected
  line L4 (143.35, 12.8) -> (143.35, -76.8) projected
  line L5 (93.35, 12.8) -> (93.35, -76.8) projected
  line L6 (226.7, -24) -> (226.7, -32) construction
  line L7 (0, -32) -> (226.7, -32) construction
  line L8 (137.35, -32) -> (149.35, -20)
  line L9 (149.35, -20) -> (143.35, -14)
  line L10 (137.35, -32) -> (149.35, -44)
  line L11 (149.35, -44) -> (143.35, -50)
  line L12 (143.35, -14) -> (143.35, -50)
  line L13 (99.35, -32) -> (87.35, -20)
  line L14 (87.35, -20) -> (93.35, -14)
  line L15 (99.35, -32) -> (87.35, -44)
  line L16 (87.35, -44) -> (93.35, -50)
  line L17 (93.35, -50) -> (93.35, -14)
  point P0 (113.35, 0)
  point P1 (143.35, -38)
  point P2 (143.35, -26)
  point P3 (93.35, -38)
  point P4 (93.35, -26)
  dimension "d264" = 90
  dimension "d265" = 90
  dimension "d266" = 90
  dimension "d267" = 6
  dimension "d268" = 6
  dimension "d269" = 6
  dimension "d270" = 6
  dimension "d271" = 90
  dimension "d272" = 90
  dimension "d273" = 90
split "Split4" plane through (30, 0, 0) removes the side toward (-1, 0, 0)
extrude "Extrusion29" cut sketch "Sketch46" against normal blind 149 contours L5 L13 L14 | L9 L8 L4 | L16 L15 L5 | L4 L10 L11
extrude "Extrusion30" add sketch "Sketch46" against normal blind 149 contours L4 L10 L8
equation "\"d0\" = newCaseLength"
equation "\"d1\" = caseWidth"
equation "\"d2\" = caseDepth"
equation "\"d5\" = lensLength"
equation "\"d6\" = cameraWidth"
equation "\"d7\" = cameraLength"
equation "\"d8\" = maxComponentDepth"
equation "\"d13\" = fanDepth"
equation "\"d14\" = fanWidth"
equation "\"d15\" = rearWallThickness"
equation "\"d16\" = maxComponentDepth"
equation "\"d20\" = piCaseDepth"
equation "\"d21\" = piCaseLength"
equation "\"d88\" = minDelta"
equation "\"d22\" = maxComponentDepth"
equation "\"d25\" = minDelta"
equation "\"d26\" = poeWidth"
equation "\"d27\" = poeLength"
equation "\"d28\" = maxComponentDepth"
equation "\"d36\" = thermisterLength"
equation "\"d37\" = thermisterWidth"
equation "\"d85\" = frontWallThickness"
equation "\"d38\" = maxComponentDepth"
equation "\"d42\" = sensorLength"
equation "\"d43\" = sensorWidth"
equation "\"d86\" = frontWallThickness"
equation "\"d87\" = outsideWallThickness"
equation "\"d46\" = cutoutDepth"
equation "\"outsideWallThickness\" = 10"
equation "\"caseWidth\" = piCaseLength + 2 * outsideWallThickness"
equation "\"cameraWidth\" = 54"
equation "\"oneHalfCaseDepth\" = piCaseWidth"
equation "\"caseLength\" = 189.7"
equation "\"cameraLength\" = 59"
equation "\"lensLength\" = 15.7"
equation "\"piCaseWidth\" = 63"
equation "\"piCaseDepth\" = 32"
equation "\"poeDepth\" = 38"
equation "\"piEthernetCableReliefLength\" = 35"
equation "\"poeEthernetCableReliefLength\" = 35"
equation "\"thermisterDepth\" = 18"
equation "\"sensorDepth\" = 11"
equation "\"cutoutDepth\" = 0.5 * piCaseWidth"
equation "\"thickenDistance\" = 1"
equation "\"bottomOfCaseWallThickness\" = 3"
equation "\"rearWallThickness\" = 3"
equation "\"maxComponentDepth\" = extraCutoutDepth + 0.5 * piCaseWidth"
equation "\"caseDepth\" = maxComponentDepth + bottomOfCaseWallThickness"
equation "\"minDelta\" = 16"
equation "\"fanCutoutDepth\" = 0.5 * fanLength + extraCutoutDepth + thickenDistance"
equation "\"newCaseLength\" = 222.7"
equation "\"frontWallThickness\" = 3"
equation "\"d95\" = lensDiameter"
equation "\"extraCutoutDepth\" = 15.5"
equation "\"bottomExtrusion\" = 14"
equation "\"fanDepth\" = 16"
equation "\"fanWidth\" = 62"
equation "\"piCaseLength\" = 129"
equation "\"poeWidth\" = 49"
equation "\"poeLength\" = 118"
equation "\"thermisterLength\" = 69"
equation "\"thermisterWidth\" = 28"
equation "\"sensorLength\" = 50"
equation "\"sensorWidth\" = 17"
equation "\"fanLength\" = 60"
equation "\"lensDiameter\" = 15"
properties part number "caseLowerPortionFront" material "PC/ABS Plastic"
